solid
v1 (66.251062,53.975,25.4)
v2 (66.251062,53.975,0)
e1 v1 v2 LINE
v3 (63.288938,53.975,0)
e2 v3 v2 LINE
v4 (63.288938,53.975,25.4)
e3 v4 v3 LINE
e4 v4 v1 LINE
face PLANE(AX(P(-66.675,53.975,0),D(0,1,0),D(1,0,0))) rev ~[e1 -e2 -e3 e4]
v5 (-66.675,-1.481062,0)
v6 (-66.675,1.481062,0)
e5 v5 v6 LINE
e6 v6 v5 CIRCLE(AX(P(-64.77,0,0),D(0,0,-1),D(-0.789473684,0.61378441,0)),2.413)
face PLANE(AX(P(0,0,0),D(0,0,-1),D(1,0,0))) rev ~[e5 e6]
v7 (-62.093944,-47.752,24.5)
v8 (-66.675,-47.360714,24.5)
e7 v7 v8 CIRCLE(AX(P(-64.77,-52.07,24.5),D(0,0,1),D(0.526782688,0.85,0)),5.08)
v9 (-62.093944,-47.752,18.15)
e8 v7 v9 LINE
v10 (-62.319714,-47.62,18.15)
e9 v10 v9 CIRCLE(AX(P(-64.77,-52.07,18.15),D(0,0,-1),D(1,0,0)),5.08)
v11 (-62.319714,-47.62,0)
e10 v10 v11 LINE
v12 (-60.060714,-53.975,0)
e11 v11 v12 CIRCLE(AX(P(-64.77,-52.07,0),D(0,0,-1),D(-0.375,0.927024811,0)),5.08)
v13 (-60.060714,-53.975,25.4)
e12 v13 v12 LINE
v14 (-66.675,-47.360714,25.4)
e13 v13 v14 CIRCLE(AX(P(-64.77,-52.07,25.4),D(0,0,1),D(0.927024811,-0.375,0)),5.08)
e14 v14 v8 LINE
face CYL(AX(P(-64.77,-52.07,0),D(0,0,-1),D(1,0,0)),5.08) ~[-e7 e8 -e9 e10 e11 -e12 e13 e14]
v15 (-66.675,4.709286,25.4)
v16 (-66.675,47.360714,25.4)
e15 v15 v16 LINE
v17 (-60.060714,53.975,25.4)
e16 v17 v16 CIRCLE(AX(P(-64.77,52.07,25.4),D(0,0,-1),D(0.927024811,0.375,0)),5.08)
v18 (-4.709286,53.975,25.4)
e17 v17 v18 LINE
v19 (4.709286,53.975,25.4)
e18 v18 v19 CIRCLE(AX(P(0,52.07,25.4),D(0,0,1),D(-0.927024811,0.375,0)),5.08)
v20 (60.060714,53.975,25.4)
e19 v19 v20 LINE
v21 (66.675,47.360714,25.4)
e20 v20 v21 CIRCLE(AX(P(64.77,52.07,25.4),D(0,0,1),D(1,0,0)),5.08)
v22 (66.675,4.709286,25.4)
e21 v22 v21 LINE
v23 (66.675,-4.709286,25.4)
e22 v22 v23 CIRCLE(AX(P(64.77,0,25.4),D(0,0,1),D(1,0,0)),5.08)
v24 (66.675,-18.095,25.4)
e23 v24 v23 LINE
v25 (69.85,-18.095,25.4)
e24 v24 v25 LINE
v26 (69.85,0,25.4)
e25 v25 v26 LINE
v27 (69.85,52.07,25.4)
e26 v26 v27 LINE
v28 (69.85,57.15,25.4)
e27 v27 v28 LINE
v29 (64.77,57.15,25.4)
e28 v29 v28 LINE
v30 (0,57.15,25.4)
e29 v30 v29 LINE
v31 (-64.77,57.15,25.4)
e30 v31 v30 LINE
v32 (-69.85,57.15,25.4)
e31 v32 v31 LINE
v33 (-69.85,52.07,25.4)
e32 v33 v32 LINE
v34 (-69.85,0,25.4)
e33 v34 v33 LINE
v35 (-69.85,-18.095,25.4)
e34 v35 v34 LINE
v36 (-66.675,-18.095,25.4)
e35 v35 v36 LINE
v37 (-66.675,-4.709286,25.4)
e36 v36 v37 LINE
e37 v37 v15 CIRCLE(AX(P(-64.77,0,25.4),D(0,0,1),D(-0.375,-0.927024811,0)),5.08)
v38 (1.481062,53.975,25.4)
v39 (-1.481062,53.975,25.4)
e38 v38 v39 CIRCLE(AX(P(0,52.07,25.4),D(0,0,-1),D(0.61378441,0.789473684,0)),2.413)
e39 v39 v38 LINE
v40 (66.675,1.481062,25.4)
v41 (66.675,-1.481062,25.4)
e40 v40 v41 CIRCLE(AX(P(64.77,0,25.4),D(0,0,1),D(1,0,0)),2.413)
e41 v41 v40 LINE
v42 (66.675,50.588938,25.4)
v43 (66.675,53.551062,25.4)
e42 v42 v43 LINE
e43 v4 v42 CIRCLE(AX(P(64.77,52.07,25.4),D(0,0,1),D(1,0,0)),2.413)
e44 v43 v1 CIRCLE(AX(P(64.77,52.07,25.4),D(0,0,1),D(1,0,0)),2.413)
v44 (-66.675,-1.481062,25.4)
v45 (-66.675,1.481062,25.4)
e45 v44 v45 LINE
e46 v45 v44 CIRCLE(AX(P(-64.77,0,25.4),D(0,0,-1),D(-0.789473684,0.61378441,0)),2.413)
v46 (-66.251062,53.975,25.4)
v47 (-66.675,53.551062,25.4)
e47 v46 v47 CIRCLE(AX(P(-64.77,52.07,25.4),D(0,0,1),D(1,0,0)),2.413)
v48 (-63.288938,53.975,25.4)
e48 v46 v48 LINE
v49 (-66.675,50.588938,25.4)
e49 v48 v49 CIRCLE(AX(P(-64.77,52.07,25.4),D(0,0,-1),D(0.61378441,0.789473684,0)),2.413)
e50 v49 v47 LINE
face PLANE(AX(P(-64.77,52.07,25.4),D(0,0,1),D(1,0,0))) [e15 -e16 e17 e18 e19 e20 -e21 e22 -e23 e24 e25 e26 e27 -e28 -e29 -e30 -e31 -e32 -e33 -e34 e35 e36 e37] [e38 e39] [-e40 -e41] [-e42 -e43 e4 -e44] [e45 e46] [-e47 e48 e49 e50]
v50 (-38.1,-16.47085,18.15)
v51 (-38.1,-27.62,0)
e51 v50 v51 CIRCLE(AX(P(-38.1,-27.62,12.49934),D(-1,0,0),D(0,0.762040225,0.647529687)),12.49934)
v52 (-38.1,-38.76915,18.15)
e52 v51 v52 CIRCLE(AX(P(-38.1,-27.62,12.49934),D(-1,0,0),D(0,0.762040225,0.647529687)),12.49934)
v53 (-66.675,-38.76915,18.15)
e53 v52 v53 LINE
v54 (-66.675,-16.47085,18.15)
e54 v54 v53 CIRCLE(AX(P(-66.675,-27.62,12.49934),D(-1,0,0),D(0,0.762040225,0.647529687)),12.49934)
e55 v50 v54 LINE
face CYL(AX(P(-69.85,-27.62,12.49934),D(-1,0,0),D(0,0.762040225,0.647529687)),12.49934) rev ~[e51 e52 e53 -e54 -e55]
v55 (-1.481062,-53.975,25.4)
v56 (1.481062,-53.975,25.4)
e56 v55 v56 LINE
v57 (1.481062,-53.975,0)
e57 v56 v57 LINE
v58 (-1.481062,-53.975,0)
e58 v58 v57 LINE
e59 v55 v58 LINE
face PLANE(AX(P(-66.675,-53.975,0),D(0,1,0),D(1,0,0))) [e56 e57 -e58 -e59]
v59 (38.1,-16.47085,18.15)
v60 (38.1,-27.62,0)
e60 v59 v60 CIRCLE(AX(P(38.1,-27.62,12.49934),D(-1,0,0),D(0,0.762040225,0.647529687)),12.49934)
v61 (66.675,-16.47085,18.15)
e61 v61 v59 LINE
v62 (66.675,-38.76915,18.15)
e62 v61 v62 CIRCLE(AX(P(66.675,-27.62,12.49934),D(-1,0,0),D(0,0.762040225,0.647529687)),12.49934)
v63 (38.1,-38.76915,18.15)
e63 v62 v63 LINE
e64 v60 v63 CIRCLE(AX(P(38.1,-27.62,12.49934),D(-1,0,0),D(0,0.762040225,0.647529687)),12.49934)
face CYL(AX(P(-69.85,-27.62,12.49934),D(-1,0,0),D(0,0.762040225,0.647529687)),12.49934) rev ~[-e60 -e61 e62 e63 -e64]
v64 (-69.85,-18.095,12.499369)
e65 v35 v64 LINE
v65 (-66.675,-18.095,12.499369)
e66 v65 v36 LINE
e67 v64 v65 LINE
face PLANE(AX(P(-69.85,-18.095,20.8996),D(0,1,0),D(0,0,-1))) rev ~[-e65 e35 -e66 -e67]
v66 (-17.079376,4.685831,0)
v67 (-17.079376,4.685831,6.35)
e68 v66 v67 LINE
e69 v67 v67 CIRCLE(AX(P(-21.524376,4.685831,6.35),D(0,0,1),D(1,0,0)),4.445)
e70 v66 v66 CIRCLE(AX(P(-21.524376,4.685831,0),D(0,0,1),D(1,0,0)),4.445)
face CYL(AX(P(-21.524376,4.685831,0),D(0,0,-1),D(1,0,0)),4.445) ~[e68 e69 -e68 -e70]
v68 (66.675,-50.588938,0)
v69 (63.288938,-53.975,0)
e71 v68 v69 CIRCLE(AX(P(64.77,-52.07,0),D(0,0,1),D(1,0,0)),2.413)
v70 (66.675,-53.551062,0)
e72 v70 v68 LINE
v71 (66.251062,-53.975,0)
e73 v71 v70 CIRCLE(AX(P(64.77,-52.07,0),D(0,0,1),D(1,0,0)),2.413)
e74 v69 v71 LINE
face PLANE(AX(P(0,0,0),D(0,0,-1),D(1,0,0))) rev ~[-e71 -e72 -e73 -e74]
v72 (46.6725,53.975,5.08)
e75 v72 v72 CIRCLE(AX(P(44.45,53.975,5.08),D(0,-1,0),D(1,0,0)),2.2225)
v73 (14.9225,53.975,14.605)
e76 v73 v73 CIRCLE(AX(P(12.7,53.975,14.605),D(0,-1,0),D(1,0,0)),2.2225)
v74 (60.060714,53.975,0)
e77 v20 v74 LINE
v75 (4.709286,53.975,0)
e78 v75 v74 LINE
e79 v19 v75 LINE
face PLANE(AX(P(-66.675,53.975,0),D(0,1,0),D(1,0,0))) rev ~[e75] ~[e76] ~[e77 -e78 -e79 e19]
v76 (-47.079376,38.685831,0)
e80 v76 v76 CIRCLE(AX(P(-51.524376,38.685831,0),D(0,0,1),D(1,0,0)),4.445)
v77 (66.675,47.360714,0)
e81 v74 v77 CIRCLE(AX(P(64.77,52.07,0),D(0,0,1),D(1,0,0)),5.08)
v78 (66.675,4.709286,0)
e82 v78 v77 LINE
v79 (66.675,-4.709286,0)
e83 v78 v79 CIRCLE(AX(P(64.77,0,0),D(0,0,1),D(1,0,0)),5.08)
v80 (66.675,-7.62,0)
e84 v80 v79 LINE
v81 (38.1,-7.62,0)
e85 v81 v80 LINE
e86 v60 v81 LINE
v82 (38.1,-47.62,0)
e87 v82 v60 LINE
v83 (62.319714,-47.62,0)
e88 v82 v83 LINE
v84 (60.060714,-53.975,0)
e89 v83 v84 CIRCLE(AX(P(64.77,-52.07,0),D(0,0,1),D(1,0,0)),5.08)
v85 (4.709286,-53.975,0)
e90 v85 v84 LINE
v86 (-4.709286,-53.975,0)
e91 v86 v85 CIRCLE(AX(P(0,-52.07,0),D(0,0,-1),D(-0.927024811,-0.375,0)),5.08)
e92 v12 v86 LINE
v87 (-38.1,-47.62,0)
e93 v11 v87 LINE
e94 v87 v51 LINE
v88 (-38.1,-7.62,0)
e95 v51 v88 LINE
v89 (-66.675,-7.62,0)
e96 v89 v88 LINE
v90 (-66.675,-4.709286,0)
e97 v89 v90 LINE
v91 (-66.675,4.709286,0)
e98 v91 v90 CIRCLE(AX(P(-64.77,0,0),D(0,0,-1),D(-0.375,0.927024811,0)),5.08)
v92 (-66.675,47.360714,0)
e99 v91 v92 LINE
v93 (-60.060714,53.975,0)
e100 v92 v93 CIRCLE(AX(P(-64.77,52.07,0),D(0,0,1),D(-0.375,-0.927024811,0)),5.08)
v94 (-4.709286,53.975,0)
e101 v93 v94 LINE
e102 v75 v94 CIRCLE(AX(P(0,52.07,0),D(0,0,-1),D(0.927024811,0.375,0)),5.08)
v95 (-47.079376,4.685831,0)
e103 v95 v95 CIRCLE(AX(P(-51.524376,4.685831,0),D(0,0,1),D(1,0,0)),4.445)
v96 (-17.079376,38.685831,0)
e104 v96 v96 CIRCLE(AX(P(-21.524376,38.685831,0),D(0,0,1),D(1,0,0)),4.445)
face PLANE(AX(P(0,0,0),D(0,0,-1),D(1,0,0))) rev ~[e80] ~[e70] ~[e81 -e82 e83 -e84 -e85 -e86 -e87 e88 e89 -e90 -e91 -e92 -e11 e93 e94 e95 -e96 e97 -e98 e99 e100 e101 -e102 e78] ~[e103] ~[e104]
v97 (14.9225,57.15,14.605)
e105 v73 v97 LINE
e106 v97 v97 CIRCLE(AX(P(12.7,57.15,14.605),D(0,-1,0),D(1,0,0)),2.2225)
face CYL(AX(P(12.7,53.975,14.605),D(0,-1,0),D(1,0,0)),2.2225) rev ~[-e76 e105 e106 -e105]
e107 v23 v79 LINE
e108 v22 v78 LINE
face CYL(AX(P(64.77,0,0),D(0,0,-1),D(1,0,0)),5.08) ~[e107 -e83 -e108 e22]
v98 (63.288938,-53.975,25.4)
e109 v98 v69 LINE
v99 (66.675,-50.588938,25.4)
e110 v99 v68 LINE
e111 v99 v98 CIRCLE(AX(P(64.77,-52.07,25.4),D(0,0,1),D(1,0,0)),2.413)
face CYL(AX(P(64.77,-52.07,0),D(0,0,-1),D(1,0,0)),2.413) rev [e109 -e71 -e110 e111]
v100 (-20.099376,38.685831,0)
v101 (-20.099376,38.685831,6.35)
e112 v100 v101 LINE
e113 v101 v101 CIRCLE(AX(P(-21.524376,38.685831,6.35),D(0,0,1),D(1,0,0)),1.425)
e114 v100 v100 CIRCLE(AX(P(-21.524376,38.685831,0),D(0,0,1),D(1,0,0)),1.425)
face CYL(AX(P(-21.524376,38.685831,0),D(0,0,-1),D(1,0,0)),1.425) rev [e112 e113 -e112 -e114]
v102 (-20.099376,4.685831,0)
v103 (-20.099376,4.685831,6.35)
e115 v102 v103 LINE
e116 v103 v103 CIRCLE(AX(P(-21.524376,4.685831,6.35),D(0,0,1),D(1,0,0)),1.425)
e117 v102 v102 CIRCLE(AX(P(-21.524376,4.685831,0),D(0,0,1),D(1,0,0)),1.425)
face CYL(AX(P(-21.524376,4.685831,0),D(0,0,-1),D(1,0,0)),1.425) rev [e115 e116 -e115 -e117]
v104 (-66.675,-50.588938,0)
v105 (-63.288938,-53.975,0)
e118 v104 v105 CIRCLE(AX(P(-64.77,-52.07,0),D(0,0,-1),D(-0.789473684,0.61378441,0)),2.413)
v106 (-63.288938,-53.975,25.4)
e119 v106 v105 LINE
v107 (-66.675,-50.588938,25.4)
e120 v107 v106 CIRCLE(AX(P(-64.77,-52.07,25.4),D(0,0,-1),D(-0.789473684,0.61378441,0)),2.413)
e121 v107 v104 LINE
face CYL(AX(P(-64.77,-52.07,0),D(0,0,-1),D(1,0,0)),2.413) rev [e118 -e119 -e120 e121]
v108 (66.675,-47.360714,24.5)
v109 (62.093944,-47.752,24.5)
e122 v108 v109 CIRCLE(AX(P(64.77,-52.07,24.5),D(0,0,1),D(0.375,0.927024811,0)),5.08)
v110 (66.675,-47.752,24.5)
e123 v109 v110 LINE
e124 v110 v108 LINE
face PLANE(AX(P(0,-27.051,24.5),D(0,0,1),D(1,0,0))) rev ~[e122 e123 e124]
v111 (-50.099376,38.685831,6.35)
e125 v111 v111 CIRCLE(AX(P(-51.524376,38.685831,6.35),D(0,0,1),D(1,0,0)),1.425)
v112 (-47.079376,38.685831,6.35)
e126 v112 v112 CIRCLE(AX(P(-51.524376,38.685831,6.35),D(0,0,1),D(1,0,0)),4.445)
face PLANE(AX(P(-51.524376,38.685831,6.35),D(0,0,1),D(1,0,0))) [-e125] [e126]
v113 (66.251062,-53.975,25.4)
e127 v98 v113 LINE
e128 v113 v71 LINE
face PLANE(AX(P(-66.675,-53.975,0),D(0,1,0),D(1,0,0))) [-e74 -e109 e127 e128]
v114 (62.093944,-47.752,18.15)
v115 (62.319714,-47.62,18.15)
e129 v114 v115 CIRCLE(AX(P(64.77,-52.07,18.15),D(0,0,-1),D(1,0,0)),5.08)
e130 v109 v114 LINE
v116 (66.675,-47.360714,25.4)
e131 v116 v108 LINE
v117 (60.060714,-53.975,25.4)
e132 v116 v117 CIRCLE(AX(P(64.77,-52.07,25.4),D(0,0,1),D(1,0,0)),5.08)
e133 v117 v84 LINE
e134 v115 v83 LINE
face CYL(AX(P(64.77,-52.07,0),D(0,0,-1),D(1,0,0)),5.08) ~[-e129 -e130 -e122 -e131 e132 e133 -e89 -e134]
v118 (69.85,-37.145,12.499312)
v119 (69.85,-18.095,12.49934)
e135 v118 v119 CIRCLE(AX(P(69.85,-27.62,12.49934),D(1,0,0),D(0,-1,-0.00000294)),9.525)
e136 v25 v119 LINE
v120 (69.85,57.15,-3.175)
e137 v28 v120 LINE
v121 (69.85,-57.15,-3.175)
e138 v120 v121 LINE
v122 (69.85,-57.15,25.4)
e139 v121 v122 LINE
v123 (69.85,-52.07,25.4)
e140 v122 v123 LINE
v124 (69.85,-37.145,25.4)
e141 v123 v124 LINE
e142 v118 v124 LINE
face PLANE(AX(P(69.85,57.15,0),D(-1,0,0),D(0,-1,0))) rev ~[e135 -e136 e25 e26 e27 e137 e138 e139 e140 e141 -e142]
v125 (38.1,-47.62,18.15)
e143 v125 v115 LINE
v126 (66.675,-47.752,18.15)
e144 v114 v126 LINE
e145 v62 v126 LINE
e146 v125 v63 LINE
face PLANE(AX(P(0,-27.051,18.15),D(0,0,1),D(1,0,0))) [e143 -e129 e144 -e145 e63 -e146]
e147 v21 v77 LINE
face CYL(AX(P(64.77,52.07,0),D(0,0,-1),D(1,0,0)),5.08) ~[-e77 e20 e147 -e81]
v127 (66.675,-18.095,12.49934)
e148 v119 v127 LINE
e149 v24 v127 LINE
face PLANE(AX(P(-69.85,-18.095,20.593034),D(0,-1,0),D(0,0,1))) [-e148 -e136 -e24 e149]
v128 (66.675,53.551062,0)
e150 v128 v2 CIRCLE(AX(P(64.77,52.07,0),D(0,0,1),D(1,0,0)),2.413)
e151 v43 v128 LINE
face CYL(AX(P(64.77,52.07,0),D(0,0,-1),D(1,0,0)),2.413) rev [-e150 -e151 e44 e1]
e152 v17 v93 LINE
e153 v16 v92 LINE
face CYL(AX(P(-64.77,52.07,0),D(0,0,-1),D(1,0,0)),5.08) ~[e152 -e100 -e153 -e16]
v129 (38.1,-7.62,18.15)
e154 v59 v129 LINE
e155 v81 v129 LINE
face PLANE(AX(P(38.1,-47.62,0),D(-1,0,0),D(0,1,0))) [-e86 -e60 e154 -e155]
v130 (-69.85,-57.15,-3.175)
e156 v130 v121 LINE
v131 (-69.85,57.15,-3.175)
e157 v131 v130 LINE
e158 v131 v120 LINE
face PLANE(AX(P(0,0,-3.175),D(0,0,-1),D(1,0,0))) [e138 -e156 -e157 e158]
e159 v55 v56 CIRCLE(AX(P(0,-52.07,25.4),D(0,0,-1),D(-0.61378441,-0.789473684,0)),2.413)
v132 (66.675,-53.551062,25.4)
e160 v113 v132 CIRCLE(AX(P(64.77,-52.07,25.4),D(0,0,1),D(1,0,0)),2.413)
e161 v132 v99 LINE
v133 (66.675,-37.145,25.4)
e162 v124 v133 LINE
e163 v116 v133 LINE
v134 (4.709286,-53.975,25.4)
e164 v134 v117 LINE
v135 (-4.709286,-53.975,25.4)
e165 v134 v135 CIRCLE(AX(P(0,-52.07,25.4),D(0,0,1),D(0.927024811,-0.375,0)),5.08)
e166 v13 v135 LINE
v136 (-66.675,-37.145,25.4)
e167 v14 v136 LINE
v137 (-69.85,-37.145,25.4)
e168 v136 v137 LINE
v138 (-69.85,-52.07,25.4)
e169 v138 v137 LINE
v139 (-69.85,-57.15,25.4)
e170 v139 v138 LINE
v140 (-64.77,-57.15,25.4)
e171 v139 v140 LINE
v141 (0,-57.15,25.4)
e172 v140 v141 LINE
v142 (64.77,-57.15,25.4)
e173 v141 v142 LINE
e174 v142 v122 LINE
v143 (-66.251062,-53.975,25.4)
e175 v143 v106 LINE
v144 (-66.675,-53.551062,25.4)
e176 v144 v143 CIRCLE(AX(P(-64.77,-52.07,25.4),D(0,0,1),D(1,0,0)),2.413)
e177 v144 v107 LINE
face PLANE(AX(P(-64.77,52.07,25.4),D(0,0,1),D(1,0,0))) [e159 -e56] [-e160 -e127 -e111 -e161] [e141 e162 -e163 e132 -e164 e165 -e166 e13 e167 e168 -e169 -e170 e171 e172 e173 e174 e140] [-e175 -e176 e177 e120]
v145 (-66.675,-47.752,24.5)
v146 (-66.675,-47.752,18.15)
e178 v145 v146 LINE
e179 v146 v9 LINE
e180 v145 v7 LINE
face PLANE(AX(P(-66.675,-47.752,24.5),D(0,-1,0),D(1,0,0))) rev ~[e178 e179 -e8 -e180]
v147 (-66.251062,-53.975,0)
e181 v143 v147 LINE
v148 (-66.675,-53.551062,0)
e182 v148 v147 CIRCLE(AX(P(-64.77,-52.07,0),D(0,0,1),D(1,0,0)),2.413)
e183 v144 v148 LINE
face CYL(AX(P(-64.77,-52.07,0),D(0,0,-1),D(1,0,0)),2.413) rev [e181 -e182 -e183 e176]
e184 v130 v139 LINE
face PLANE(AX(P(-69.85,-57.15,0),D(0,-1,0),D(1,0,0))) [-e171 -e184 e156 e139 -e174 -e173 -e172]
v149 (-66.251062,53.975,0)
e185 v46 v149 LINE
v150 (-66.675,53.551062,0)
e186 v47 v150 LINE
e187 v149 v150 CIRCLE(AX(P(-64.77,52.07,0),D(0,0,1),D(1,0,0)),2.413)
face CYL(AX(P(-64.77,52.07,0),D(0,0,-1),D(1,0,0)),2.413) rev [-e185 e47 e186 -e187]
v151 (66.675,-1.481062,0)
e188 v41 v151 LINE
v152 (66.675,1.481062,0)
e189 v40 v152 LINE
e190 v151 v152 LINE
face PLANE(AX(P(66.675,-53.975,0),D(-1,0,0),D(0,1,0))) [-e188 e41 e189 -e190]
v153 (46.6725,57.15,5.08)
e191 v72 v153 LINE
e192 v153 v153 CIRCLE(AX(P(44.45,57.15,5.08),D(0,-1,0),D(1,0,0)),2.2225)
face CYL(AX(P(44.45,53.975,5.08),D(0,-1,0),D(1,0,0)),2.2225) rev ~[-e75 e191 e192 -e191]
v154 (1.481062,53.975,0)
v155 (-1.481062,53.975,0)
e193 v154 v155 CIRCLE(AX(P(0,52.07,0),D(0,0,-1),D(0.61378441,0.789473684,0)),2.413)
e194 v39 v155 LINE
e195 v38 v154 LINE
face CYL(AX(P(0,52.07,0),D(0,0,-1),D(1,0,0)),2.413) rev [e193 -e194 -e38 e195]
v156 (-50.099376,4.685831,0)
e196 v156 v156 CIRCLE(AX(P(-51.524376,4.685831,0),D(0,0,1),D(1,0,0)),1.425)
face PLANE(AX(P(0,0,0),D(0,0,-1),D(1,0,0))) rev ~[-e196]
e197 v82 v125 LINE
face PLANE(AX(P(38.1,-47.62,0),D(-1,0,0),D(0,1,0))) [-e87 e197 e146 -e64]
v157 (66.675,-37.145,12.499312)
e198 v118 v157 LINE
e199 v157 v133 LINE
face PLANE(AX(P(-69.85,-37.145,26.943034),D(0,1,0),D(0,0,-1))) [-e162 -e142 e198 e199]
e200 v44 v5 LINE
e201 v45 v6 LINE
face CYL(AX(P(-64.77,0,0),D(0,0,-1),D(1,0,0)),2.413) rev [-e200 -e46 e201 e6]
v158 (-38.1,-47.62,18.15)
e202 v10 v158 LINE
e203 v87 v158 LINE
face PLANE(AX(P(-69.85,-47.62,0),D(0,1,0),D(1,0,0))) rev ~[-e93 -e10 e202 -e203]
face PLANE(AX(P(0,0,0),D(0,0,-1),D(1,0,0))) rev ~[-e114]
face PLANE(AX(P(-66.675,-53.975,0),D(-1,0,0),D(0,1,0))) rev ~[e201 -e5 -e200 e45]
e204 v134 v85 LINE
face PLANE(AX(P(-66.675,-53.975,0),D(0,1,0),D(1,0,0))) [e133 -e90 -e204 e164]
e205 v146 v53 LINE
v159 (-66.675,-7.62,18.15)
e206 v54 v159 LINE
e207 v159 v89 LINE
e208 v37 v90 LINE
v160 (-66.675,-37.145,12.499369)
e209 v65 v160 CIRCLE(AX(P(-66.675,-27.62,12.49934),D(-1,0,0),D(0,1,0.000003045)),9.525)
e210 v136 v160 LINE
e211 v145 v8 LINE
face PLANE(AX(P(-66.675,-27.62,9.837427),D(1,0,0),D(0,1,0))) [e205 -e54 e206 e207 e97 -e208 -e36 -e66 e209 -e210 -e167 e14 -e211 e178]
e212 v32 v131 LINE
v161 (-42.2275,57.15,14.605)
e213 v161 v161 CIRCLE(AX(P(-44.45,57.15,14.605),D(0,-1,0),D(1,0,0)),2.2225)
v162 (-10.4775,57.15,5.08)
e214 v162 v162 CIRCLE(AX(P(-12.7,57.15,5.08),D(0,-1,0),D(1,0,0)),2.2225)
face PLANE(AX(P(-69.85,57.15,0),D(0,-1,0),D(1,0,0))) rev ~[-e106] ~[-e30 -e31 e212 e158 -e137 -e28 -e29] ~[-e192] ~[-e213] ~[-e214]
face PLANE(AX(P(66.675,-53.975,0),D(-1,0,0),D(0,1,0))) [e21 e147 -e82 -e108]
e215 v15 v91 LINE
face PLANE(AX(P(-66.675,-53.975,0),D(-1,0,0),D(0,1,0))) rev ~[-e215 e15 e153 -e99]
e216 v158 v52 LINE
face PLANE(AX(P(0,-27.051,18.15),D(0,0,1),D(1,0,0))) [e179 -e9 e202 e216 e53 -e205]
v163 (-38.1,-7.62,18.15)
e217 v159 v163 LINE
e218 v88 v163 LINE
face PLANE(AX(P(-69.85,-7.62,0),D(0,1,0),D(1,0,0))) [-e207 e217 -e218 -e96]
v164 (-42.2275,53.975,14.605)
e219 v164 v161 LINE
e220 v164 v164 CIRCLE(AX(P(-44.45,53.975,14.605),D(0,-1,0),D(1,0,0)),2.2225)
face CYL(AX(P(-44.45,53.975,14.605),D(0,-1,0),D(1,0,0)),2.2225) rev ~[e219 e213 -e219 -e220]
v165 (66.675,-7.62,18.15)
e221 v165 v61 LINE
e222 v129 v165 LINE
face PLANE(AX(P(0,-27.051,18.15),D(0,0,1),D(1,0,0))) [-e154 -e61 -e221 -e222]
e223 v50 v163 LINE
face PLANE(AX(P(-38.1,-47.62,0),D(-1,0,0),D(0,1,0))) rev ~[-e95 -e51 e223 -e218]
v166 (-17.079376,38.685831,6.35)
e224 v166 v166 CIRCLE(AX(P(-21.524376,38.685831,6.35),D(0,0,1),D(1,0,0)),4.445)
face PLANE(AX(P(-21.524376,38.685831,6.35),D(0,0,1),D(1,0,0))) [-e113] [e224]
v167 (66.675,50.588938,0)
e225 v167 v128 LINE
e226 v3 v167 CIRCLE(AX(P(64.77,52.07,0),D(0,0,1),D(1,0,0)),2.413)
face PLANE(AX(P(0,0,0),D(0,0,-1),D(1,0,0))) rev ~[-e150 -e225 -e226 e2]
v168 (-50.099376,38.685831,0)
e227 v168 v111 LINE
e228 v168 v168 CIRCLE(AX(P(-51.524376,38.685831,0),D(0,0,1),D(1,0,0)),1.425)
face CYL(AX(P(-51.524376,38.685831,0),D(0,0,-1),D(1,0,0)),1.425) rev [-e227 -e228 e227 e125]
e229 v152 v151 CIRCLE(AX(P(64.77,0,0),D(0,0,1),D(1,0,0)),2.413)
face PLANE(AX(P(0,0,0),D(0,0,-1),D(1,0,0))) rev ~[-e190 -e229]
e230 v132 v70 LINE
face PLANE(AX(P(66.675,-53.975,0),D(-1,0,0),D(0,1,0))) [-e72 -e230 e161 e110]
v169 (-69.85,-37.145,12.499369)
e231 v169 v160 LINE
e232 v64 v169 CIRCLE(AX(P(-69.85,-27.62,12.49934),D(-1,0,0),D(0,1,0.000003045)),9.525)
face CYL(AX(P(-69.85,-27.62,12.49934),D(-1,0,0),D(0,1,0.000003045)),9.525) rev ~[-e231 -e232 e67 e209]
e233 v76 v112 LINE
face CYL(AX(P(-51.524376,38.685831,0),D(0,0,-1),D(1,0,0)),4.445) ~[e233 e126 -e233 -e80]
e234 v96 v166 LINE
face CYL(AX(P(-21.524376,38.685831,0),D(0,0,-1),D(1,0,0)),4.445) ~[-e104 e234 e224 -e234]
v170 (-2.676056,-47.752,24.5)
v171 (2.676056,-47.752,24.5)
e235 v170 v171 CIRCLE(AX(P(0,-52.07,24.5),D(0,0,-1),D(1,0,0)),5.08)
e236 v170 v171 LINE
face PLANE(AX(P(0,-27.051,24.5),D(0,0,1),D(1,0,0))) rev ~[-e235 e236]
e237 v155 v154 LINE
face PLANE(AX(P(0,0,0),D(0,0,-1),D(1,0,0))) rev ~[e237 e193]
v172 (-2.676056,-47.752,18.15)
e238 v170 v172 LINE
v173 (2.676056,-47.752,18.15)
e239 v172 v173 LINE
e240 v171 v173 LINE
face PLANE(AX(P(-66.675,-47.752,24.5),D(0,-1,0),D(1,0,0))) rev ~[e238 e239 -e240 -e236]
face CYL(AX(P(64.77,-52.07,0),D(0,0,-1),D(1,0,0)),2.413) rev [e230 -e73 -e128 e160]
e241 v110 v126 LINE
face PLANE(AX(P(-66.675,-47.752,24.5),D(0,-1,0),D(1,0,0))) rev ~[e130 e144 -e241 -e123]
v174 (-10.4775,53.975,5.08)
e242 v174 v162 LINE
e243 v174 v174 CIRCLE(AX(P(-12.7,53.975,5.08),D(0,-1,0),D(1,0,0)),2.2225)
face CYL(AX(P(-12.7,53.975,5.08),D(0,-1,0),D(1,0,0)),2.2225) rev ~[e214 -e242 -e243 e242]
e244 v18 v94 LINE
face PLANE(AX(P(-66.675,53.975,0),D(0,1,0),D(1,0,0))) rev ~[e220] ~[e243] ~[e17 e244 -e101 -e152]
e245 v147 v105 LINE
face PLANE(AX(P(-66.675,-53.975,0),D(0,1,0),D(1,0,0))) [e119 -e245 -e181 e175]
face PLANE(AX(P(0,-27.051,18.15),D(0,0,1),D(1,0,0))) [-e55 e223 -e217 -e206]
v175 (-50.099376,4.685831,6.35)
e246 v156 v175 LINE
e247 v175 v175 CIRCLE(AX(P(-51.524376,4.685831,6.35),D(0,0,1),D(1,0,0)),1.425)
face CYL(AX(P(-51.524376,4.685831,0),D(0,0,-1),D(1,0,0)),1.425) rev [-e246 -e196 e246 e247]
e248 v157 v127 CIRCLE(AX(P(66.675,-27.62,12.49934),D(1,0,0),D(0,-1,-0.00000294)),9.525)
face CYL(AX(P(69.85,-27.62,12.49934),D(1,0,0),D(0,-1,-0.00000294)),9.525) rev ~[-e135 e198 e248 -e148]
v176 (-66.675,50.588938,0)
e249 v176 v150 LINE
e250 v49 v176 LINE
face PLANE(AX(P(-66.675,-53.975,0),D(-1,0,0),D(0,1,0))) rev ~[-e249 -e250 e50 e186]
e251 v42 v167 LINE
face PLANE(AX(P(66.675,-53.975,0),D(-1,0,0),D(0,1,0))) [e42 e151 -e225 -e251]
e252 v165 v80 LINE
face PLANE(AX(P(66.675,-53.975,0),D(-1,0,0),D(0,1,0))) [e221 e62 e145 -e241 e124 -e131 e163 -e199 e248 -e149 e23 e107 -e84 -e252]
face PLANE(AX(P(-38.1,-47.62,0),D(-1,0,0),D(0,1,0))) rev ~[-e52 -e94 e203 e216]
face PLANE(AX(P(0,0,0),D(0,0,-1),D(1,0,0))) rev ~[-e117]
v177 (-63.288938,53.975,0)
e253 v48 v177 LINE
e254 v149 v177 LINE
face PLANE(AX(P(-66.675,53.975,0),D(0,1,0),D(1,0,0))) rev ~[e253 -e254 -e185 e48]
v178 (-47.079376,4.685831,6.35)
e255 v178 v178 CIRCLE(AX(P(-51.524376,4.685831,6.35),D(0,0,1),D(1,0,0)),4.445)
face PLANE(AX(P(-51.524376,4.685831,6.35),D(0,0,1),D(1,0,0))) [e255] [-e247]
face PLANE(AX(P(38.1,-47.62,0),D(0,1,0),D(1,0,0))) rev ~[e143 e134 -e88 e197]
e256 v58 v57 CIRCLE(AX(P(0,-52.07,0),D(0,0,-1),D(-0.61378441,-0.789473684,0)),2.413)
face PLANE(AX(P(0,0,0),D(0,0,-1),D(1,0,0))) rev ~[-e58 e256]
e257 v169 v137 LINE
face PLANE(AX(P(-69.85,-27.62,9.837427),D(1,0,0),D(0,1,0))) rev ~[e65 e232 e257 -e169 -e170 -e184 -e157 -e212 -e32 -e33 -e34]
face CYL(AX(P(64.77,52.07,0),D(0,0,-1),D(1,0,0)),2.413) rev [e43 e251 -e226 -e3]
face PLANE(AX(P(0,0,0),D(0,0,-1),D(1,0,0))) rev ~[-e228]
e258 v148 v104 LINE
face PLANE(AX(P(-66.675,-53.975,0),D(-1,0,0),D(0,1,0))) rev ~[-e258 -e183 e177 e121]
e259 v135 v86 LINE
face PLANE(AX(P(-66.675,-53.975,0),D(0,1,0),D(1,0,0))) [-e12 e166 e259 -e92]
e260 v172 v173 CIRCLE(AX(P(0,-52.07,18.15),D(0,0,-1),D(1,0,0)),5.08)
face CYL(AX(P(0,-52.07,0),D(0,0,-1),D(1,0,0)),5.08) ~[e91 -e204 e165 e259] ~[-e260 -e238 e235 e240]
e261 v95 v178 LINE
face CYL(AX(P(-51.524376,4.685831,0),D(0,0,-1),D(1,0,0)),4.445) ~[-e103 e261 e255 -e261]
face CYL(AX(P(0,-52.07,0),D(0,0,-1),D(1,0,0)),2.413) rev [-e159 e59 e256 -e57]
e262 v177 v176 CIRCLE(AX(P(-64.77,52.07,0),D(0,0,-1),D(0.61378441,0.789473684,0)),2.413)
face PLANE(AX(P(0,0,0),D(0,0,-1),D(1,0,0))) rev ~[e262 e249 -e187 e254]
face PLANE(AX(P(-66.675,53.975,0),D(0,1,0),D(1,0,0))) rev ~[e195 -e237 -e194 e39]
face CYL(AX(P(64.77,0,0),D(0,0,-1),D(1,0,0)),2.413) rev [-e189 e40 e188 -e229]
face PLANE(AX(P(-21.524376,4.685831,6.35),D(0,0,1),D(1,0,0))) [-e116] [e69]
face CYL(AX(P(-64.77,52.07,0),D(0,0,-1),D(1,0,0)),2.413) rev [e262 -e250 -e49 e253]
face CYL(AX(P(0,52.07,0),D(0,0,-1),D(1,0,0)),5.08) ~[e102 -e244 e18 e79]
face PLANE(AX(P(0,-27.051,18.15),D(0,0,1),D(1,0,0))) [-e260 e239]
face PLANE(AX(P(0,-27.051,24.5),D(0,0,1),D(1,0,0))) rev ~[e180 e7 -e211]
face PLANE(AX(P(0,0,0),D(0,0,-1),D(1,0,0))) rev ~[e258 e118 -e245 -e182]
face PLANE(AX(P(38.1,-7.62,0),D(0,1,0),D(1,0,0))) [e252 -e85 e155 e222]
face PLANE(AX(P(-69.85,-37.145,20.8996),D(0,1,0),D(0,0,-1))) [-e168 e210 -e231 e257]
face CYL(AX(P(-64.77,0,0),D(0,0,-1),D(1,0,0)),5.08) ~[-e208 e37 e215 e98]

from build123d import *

# Parameters (mm, degrees)
SKETCH_W        = 139.7
SKETCH_H        = 114.3
SKETCH_W_2      = 133.35
SKETCH_H_2      = 107.95
PAD_DEPTH       = 25.4
SKETCH001_W     = 139.7
SKETCH001_H     = 114.3
PAD001_DEPTH    = 3.175
SKETCH002_R     = 5.08
SKETCH002_R_2   = 2.413
PAD002_DEPTH    = 25.4
SKETCH003_W     = 31.75
SKETCH003_H     = 40
PAD003_DEPTH    = 24.5
POCKET_DEPTH    = 139.701
SKETCH007_R     = 4.445
SKETCH007_R_2   = 1.425
PAD006_DEPTH    = 6.35
SKETCH014_R     = 2.2225
POCKET004_DEPTH = 3.176
SKETCH015_W     = 133.35
SKETCH015_H     = 41.402
POCKET005_DEPTH = 6.35
PAD010_DEPTH    = 3.175
PAD011_DEPTH    = 3.175


with BuildPart() as part:
    # Sketch → Pad (new body)
    with BuildSketch(Plane.XY):
        Rectangle(SKETCH_W, SKETCH_H)
        Rectangle(SKETCH_W_2, SKETCH_H_2, mode=Mode.SUBTRACT)
    extrude(amount=PAD_DEPTH)

    # Sketch001 (on Face9 of Pad) → Pad001 (join)
    with BuildSketch(Plane(origin=(0, 0, 0), x_dir=(1, 0, 0), z_dir=(0, 0, -1))):
        Rectangle(SKETCH001_W, SKETCH001_H)
    extrude(amount=PAD001_DEPTH)

    # Sketch002 (on Face15 of Pad001) → Pad002 (join)
    with BuildSketch(Plane.XY):
        with Locations((-64.77, 52.07)):
            Circle(SKETCH002_R)
        with Locations((-64.77, 52.07)):
            Circle(SKETCH002_R_2, mode=Mode.SUBTRACT)
        with Locations((0, 52.07)):
            Circle(SKETCH002_R)
        with Locations((0, 52.07)):
            Circle(SKETCH002_R_2, mode=Mode.SUBTRACT)
        with Locations((64.77, 52.07)):
            Circle(SKETCH002_R)
        with Locations((64.77, 52.07)):
            Circle(SKETCH002_R_2, mode=Mode.SUBTRACT)
        with Locations((64.77, 0)):
            Circle(SKETCH002_R)
        with Locations((64.77, 0)):
            Circle(SKETCH002_R_2, mode=Mode.SUBTRACT)
        with Locations((64.77, -52.07)):
            Circle(SKETCH002_R)
        with Locations((64.77, -52.07)):
            Circle(SKETCH002_R_2, mode=Mode.SUBTRACT)
        with Locations((0, -52.07)):
            Circle(SKETCH002_R)
        with Locations((0, -52.07)):
            Circle(SKETCH002_R_2, mode=Mode.SUBTRACT)
        with Locations((-64.77, -52.07)):
            Circle(SKETCH002_R)
        with Locations((-64.77, -52.07)):
            Circle(SKETCH002_R_2, mode=Mode.SUBTRACT)
        with Locations((-64.77, 0)):
            Circle(SKETCH002_R)
        with Locations((-64.77, 0)):
            Circle(SKETCH002_R_2, mode=Mode.SUBTRACT)
    extrude(amount=PAD002_DEPTH)

    # Sketch003 (on Face43 of Pad002) → Pad003 (join)
    with BuildSketch(Plane.XY):
        with Locations((-53.975, -27.62)):
            Rectangle(SKETCH003_W, SKETCH003_H)
        with Locations((53.975, -27.62)):
            Rectangle(SKETCH003_W, SKETCH003_H)
    extrude(amount=PAD003_DEPTH)

    # Sketch004 (on Face17 of Pad003) → Pocket (cut, through all)
    with BuildSketch(Plane(origin=(-69.85, 0, 0), x_dir=(0, -1, 0), z_dir=(-1, 0, 0))):
        with BuildLine():
            ThreePointArc((18.095, 20.593034), (27.62, 0), (37.145, 20.593034))
            Line((37.145, 26.943034), (37.145, 20.593034))
            Line((18.095, 26.943034), (37.145, 26.943034))
            Line((18.095, 20.593034), (18.095, 26.943034))
        make_face()
    extrude(amount=-POCKET_DEPTH, mode=Mode.SUBTRACT)

    # Sketch007 → Pad006 (join)
    with BuildSketch(Plane(origin=(-34.29, 25.4, 0), x_dir=(1, 0, 0), z_dir=(0, 0, 1))):
        with Locations((12.765624, 13.285831)):
            Circle(SKETCH007_R)
        with Locations((12.765624, 13.285831)):
            Circle(SKETCH007_R_2, mode=Mode.SUBTRACT)
        with Locations((-17.234376, 13.285831)):
            Circle(SKETCH007_R)
        with Locations((-17.234376, 13.285831)):
            Circle(SKETCH007_R_2, mode=Mode.SUBTRACT)
        with Locations((-17.234376, -20.714169)):
            Circle(SKETCH007_R)
        with Locations((-17.234376, -20.714169)):
            Circle(SKETCH007_R_2, mode=Mode.SUBTRACT)
        with Locations((12.765624, -20.714169)):
            Circle(SKETCH007_R)
        with Locations((12.765624, -20.714169)):
            Circle(SKETCH007_R_2, mode=Mode.SUBTRACT)
    extrude(amount=PAD006_DEPTH)

    # Sketch014 (on Face30 of Pad006) → Pocket004 (cut, through all)
    with BuildSketch(Plane.XZ.offset(-53.975)):
        with Locations((-44.45, 14.605)):
            Circle(SKETCH014_R)
        with Locations((-12.7, 5.08)):
            Circle(SKETCH014_R)
        with Locations((12.7, 14.605)):
            Circle(SKETCH014_R)
        with Locations((44.45, 5.08)):
            Circle(SKETCH014_R)
    extrude(amount=-POCKET004_DEPTH, mode=Mode.SUBTRACT)

    # Sketch015 (on Face84 of Pocket004) → Pocket005 (cut)
    with BuildSketch(Plane.XY.offset(24.5)):
        with Locations((0, -27.051)):
            Rectangle(SKETCH015_W, SKETCH015_H)
    extrude(amount=-POCKET005_DEPTH, mode=Mode.SUBTRACT)

    # Sketch016 (on Face15 of Pocket005) → Pad010 (join)
    with BuildSketch(Plane(origin=(-69.85, 0, 0), x_dir=(0, -1, 0), z_dir=(-1, 0, 0))):
        with BuildLine():
            ThreePointArc((18.095, 12.499369), (27.62, 2.97434), (37.145, 12.499369))
            Line((37.145, 20.8996), (37.145, 12.499369))
            ThreePointArc((18.095, 20.8996), (27.62, -0.20066), (37.145, 20.8996))
            Line((18.095, 20.8996), (18.095, 12.499369))
        make_face()
    extrude(amount=-PAD010_DEPTH)

    # Sketch019 (on Face25 of Pocket005) → Pad011 (join)
    with BuildSketch(Plane.YZ.offset(69.85)):
        with BuildLine():
            ThreePointArc((-37.145, 20.8996), (-27.62, -0.20066), (-18.095, 20.8996))
            Line((-18.095, 20.8996), (-18.095, 12.49934))
            ThreePointArc((-37.145, 12.499312), (-27.619986, 2.97434), (-18.095, 12.49934))
            Line((-37.145, 20.8996), (-37.145, 12.499312))
        make_face()
    extrude(amount=-PAD011_DEPTH)


solid = part.part
